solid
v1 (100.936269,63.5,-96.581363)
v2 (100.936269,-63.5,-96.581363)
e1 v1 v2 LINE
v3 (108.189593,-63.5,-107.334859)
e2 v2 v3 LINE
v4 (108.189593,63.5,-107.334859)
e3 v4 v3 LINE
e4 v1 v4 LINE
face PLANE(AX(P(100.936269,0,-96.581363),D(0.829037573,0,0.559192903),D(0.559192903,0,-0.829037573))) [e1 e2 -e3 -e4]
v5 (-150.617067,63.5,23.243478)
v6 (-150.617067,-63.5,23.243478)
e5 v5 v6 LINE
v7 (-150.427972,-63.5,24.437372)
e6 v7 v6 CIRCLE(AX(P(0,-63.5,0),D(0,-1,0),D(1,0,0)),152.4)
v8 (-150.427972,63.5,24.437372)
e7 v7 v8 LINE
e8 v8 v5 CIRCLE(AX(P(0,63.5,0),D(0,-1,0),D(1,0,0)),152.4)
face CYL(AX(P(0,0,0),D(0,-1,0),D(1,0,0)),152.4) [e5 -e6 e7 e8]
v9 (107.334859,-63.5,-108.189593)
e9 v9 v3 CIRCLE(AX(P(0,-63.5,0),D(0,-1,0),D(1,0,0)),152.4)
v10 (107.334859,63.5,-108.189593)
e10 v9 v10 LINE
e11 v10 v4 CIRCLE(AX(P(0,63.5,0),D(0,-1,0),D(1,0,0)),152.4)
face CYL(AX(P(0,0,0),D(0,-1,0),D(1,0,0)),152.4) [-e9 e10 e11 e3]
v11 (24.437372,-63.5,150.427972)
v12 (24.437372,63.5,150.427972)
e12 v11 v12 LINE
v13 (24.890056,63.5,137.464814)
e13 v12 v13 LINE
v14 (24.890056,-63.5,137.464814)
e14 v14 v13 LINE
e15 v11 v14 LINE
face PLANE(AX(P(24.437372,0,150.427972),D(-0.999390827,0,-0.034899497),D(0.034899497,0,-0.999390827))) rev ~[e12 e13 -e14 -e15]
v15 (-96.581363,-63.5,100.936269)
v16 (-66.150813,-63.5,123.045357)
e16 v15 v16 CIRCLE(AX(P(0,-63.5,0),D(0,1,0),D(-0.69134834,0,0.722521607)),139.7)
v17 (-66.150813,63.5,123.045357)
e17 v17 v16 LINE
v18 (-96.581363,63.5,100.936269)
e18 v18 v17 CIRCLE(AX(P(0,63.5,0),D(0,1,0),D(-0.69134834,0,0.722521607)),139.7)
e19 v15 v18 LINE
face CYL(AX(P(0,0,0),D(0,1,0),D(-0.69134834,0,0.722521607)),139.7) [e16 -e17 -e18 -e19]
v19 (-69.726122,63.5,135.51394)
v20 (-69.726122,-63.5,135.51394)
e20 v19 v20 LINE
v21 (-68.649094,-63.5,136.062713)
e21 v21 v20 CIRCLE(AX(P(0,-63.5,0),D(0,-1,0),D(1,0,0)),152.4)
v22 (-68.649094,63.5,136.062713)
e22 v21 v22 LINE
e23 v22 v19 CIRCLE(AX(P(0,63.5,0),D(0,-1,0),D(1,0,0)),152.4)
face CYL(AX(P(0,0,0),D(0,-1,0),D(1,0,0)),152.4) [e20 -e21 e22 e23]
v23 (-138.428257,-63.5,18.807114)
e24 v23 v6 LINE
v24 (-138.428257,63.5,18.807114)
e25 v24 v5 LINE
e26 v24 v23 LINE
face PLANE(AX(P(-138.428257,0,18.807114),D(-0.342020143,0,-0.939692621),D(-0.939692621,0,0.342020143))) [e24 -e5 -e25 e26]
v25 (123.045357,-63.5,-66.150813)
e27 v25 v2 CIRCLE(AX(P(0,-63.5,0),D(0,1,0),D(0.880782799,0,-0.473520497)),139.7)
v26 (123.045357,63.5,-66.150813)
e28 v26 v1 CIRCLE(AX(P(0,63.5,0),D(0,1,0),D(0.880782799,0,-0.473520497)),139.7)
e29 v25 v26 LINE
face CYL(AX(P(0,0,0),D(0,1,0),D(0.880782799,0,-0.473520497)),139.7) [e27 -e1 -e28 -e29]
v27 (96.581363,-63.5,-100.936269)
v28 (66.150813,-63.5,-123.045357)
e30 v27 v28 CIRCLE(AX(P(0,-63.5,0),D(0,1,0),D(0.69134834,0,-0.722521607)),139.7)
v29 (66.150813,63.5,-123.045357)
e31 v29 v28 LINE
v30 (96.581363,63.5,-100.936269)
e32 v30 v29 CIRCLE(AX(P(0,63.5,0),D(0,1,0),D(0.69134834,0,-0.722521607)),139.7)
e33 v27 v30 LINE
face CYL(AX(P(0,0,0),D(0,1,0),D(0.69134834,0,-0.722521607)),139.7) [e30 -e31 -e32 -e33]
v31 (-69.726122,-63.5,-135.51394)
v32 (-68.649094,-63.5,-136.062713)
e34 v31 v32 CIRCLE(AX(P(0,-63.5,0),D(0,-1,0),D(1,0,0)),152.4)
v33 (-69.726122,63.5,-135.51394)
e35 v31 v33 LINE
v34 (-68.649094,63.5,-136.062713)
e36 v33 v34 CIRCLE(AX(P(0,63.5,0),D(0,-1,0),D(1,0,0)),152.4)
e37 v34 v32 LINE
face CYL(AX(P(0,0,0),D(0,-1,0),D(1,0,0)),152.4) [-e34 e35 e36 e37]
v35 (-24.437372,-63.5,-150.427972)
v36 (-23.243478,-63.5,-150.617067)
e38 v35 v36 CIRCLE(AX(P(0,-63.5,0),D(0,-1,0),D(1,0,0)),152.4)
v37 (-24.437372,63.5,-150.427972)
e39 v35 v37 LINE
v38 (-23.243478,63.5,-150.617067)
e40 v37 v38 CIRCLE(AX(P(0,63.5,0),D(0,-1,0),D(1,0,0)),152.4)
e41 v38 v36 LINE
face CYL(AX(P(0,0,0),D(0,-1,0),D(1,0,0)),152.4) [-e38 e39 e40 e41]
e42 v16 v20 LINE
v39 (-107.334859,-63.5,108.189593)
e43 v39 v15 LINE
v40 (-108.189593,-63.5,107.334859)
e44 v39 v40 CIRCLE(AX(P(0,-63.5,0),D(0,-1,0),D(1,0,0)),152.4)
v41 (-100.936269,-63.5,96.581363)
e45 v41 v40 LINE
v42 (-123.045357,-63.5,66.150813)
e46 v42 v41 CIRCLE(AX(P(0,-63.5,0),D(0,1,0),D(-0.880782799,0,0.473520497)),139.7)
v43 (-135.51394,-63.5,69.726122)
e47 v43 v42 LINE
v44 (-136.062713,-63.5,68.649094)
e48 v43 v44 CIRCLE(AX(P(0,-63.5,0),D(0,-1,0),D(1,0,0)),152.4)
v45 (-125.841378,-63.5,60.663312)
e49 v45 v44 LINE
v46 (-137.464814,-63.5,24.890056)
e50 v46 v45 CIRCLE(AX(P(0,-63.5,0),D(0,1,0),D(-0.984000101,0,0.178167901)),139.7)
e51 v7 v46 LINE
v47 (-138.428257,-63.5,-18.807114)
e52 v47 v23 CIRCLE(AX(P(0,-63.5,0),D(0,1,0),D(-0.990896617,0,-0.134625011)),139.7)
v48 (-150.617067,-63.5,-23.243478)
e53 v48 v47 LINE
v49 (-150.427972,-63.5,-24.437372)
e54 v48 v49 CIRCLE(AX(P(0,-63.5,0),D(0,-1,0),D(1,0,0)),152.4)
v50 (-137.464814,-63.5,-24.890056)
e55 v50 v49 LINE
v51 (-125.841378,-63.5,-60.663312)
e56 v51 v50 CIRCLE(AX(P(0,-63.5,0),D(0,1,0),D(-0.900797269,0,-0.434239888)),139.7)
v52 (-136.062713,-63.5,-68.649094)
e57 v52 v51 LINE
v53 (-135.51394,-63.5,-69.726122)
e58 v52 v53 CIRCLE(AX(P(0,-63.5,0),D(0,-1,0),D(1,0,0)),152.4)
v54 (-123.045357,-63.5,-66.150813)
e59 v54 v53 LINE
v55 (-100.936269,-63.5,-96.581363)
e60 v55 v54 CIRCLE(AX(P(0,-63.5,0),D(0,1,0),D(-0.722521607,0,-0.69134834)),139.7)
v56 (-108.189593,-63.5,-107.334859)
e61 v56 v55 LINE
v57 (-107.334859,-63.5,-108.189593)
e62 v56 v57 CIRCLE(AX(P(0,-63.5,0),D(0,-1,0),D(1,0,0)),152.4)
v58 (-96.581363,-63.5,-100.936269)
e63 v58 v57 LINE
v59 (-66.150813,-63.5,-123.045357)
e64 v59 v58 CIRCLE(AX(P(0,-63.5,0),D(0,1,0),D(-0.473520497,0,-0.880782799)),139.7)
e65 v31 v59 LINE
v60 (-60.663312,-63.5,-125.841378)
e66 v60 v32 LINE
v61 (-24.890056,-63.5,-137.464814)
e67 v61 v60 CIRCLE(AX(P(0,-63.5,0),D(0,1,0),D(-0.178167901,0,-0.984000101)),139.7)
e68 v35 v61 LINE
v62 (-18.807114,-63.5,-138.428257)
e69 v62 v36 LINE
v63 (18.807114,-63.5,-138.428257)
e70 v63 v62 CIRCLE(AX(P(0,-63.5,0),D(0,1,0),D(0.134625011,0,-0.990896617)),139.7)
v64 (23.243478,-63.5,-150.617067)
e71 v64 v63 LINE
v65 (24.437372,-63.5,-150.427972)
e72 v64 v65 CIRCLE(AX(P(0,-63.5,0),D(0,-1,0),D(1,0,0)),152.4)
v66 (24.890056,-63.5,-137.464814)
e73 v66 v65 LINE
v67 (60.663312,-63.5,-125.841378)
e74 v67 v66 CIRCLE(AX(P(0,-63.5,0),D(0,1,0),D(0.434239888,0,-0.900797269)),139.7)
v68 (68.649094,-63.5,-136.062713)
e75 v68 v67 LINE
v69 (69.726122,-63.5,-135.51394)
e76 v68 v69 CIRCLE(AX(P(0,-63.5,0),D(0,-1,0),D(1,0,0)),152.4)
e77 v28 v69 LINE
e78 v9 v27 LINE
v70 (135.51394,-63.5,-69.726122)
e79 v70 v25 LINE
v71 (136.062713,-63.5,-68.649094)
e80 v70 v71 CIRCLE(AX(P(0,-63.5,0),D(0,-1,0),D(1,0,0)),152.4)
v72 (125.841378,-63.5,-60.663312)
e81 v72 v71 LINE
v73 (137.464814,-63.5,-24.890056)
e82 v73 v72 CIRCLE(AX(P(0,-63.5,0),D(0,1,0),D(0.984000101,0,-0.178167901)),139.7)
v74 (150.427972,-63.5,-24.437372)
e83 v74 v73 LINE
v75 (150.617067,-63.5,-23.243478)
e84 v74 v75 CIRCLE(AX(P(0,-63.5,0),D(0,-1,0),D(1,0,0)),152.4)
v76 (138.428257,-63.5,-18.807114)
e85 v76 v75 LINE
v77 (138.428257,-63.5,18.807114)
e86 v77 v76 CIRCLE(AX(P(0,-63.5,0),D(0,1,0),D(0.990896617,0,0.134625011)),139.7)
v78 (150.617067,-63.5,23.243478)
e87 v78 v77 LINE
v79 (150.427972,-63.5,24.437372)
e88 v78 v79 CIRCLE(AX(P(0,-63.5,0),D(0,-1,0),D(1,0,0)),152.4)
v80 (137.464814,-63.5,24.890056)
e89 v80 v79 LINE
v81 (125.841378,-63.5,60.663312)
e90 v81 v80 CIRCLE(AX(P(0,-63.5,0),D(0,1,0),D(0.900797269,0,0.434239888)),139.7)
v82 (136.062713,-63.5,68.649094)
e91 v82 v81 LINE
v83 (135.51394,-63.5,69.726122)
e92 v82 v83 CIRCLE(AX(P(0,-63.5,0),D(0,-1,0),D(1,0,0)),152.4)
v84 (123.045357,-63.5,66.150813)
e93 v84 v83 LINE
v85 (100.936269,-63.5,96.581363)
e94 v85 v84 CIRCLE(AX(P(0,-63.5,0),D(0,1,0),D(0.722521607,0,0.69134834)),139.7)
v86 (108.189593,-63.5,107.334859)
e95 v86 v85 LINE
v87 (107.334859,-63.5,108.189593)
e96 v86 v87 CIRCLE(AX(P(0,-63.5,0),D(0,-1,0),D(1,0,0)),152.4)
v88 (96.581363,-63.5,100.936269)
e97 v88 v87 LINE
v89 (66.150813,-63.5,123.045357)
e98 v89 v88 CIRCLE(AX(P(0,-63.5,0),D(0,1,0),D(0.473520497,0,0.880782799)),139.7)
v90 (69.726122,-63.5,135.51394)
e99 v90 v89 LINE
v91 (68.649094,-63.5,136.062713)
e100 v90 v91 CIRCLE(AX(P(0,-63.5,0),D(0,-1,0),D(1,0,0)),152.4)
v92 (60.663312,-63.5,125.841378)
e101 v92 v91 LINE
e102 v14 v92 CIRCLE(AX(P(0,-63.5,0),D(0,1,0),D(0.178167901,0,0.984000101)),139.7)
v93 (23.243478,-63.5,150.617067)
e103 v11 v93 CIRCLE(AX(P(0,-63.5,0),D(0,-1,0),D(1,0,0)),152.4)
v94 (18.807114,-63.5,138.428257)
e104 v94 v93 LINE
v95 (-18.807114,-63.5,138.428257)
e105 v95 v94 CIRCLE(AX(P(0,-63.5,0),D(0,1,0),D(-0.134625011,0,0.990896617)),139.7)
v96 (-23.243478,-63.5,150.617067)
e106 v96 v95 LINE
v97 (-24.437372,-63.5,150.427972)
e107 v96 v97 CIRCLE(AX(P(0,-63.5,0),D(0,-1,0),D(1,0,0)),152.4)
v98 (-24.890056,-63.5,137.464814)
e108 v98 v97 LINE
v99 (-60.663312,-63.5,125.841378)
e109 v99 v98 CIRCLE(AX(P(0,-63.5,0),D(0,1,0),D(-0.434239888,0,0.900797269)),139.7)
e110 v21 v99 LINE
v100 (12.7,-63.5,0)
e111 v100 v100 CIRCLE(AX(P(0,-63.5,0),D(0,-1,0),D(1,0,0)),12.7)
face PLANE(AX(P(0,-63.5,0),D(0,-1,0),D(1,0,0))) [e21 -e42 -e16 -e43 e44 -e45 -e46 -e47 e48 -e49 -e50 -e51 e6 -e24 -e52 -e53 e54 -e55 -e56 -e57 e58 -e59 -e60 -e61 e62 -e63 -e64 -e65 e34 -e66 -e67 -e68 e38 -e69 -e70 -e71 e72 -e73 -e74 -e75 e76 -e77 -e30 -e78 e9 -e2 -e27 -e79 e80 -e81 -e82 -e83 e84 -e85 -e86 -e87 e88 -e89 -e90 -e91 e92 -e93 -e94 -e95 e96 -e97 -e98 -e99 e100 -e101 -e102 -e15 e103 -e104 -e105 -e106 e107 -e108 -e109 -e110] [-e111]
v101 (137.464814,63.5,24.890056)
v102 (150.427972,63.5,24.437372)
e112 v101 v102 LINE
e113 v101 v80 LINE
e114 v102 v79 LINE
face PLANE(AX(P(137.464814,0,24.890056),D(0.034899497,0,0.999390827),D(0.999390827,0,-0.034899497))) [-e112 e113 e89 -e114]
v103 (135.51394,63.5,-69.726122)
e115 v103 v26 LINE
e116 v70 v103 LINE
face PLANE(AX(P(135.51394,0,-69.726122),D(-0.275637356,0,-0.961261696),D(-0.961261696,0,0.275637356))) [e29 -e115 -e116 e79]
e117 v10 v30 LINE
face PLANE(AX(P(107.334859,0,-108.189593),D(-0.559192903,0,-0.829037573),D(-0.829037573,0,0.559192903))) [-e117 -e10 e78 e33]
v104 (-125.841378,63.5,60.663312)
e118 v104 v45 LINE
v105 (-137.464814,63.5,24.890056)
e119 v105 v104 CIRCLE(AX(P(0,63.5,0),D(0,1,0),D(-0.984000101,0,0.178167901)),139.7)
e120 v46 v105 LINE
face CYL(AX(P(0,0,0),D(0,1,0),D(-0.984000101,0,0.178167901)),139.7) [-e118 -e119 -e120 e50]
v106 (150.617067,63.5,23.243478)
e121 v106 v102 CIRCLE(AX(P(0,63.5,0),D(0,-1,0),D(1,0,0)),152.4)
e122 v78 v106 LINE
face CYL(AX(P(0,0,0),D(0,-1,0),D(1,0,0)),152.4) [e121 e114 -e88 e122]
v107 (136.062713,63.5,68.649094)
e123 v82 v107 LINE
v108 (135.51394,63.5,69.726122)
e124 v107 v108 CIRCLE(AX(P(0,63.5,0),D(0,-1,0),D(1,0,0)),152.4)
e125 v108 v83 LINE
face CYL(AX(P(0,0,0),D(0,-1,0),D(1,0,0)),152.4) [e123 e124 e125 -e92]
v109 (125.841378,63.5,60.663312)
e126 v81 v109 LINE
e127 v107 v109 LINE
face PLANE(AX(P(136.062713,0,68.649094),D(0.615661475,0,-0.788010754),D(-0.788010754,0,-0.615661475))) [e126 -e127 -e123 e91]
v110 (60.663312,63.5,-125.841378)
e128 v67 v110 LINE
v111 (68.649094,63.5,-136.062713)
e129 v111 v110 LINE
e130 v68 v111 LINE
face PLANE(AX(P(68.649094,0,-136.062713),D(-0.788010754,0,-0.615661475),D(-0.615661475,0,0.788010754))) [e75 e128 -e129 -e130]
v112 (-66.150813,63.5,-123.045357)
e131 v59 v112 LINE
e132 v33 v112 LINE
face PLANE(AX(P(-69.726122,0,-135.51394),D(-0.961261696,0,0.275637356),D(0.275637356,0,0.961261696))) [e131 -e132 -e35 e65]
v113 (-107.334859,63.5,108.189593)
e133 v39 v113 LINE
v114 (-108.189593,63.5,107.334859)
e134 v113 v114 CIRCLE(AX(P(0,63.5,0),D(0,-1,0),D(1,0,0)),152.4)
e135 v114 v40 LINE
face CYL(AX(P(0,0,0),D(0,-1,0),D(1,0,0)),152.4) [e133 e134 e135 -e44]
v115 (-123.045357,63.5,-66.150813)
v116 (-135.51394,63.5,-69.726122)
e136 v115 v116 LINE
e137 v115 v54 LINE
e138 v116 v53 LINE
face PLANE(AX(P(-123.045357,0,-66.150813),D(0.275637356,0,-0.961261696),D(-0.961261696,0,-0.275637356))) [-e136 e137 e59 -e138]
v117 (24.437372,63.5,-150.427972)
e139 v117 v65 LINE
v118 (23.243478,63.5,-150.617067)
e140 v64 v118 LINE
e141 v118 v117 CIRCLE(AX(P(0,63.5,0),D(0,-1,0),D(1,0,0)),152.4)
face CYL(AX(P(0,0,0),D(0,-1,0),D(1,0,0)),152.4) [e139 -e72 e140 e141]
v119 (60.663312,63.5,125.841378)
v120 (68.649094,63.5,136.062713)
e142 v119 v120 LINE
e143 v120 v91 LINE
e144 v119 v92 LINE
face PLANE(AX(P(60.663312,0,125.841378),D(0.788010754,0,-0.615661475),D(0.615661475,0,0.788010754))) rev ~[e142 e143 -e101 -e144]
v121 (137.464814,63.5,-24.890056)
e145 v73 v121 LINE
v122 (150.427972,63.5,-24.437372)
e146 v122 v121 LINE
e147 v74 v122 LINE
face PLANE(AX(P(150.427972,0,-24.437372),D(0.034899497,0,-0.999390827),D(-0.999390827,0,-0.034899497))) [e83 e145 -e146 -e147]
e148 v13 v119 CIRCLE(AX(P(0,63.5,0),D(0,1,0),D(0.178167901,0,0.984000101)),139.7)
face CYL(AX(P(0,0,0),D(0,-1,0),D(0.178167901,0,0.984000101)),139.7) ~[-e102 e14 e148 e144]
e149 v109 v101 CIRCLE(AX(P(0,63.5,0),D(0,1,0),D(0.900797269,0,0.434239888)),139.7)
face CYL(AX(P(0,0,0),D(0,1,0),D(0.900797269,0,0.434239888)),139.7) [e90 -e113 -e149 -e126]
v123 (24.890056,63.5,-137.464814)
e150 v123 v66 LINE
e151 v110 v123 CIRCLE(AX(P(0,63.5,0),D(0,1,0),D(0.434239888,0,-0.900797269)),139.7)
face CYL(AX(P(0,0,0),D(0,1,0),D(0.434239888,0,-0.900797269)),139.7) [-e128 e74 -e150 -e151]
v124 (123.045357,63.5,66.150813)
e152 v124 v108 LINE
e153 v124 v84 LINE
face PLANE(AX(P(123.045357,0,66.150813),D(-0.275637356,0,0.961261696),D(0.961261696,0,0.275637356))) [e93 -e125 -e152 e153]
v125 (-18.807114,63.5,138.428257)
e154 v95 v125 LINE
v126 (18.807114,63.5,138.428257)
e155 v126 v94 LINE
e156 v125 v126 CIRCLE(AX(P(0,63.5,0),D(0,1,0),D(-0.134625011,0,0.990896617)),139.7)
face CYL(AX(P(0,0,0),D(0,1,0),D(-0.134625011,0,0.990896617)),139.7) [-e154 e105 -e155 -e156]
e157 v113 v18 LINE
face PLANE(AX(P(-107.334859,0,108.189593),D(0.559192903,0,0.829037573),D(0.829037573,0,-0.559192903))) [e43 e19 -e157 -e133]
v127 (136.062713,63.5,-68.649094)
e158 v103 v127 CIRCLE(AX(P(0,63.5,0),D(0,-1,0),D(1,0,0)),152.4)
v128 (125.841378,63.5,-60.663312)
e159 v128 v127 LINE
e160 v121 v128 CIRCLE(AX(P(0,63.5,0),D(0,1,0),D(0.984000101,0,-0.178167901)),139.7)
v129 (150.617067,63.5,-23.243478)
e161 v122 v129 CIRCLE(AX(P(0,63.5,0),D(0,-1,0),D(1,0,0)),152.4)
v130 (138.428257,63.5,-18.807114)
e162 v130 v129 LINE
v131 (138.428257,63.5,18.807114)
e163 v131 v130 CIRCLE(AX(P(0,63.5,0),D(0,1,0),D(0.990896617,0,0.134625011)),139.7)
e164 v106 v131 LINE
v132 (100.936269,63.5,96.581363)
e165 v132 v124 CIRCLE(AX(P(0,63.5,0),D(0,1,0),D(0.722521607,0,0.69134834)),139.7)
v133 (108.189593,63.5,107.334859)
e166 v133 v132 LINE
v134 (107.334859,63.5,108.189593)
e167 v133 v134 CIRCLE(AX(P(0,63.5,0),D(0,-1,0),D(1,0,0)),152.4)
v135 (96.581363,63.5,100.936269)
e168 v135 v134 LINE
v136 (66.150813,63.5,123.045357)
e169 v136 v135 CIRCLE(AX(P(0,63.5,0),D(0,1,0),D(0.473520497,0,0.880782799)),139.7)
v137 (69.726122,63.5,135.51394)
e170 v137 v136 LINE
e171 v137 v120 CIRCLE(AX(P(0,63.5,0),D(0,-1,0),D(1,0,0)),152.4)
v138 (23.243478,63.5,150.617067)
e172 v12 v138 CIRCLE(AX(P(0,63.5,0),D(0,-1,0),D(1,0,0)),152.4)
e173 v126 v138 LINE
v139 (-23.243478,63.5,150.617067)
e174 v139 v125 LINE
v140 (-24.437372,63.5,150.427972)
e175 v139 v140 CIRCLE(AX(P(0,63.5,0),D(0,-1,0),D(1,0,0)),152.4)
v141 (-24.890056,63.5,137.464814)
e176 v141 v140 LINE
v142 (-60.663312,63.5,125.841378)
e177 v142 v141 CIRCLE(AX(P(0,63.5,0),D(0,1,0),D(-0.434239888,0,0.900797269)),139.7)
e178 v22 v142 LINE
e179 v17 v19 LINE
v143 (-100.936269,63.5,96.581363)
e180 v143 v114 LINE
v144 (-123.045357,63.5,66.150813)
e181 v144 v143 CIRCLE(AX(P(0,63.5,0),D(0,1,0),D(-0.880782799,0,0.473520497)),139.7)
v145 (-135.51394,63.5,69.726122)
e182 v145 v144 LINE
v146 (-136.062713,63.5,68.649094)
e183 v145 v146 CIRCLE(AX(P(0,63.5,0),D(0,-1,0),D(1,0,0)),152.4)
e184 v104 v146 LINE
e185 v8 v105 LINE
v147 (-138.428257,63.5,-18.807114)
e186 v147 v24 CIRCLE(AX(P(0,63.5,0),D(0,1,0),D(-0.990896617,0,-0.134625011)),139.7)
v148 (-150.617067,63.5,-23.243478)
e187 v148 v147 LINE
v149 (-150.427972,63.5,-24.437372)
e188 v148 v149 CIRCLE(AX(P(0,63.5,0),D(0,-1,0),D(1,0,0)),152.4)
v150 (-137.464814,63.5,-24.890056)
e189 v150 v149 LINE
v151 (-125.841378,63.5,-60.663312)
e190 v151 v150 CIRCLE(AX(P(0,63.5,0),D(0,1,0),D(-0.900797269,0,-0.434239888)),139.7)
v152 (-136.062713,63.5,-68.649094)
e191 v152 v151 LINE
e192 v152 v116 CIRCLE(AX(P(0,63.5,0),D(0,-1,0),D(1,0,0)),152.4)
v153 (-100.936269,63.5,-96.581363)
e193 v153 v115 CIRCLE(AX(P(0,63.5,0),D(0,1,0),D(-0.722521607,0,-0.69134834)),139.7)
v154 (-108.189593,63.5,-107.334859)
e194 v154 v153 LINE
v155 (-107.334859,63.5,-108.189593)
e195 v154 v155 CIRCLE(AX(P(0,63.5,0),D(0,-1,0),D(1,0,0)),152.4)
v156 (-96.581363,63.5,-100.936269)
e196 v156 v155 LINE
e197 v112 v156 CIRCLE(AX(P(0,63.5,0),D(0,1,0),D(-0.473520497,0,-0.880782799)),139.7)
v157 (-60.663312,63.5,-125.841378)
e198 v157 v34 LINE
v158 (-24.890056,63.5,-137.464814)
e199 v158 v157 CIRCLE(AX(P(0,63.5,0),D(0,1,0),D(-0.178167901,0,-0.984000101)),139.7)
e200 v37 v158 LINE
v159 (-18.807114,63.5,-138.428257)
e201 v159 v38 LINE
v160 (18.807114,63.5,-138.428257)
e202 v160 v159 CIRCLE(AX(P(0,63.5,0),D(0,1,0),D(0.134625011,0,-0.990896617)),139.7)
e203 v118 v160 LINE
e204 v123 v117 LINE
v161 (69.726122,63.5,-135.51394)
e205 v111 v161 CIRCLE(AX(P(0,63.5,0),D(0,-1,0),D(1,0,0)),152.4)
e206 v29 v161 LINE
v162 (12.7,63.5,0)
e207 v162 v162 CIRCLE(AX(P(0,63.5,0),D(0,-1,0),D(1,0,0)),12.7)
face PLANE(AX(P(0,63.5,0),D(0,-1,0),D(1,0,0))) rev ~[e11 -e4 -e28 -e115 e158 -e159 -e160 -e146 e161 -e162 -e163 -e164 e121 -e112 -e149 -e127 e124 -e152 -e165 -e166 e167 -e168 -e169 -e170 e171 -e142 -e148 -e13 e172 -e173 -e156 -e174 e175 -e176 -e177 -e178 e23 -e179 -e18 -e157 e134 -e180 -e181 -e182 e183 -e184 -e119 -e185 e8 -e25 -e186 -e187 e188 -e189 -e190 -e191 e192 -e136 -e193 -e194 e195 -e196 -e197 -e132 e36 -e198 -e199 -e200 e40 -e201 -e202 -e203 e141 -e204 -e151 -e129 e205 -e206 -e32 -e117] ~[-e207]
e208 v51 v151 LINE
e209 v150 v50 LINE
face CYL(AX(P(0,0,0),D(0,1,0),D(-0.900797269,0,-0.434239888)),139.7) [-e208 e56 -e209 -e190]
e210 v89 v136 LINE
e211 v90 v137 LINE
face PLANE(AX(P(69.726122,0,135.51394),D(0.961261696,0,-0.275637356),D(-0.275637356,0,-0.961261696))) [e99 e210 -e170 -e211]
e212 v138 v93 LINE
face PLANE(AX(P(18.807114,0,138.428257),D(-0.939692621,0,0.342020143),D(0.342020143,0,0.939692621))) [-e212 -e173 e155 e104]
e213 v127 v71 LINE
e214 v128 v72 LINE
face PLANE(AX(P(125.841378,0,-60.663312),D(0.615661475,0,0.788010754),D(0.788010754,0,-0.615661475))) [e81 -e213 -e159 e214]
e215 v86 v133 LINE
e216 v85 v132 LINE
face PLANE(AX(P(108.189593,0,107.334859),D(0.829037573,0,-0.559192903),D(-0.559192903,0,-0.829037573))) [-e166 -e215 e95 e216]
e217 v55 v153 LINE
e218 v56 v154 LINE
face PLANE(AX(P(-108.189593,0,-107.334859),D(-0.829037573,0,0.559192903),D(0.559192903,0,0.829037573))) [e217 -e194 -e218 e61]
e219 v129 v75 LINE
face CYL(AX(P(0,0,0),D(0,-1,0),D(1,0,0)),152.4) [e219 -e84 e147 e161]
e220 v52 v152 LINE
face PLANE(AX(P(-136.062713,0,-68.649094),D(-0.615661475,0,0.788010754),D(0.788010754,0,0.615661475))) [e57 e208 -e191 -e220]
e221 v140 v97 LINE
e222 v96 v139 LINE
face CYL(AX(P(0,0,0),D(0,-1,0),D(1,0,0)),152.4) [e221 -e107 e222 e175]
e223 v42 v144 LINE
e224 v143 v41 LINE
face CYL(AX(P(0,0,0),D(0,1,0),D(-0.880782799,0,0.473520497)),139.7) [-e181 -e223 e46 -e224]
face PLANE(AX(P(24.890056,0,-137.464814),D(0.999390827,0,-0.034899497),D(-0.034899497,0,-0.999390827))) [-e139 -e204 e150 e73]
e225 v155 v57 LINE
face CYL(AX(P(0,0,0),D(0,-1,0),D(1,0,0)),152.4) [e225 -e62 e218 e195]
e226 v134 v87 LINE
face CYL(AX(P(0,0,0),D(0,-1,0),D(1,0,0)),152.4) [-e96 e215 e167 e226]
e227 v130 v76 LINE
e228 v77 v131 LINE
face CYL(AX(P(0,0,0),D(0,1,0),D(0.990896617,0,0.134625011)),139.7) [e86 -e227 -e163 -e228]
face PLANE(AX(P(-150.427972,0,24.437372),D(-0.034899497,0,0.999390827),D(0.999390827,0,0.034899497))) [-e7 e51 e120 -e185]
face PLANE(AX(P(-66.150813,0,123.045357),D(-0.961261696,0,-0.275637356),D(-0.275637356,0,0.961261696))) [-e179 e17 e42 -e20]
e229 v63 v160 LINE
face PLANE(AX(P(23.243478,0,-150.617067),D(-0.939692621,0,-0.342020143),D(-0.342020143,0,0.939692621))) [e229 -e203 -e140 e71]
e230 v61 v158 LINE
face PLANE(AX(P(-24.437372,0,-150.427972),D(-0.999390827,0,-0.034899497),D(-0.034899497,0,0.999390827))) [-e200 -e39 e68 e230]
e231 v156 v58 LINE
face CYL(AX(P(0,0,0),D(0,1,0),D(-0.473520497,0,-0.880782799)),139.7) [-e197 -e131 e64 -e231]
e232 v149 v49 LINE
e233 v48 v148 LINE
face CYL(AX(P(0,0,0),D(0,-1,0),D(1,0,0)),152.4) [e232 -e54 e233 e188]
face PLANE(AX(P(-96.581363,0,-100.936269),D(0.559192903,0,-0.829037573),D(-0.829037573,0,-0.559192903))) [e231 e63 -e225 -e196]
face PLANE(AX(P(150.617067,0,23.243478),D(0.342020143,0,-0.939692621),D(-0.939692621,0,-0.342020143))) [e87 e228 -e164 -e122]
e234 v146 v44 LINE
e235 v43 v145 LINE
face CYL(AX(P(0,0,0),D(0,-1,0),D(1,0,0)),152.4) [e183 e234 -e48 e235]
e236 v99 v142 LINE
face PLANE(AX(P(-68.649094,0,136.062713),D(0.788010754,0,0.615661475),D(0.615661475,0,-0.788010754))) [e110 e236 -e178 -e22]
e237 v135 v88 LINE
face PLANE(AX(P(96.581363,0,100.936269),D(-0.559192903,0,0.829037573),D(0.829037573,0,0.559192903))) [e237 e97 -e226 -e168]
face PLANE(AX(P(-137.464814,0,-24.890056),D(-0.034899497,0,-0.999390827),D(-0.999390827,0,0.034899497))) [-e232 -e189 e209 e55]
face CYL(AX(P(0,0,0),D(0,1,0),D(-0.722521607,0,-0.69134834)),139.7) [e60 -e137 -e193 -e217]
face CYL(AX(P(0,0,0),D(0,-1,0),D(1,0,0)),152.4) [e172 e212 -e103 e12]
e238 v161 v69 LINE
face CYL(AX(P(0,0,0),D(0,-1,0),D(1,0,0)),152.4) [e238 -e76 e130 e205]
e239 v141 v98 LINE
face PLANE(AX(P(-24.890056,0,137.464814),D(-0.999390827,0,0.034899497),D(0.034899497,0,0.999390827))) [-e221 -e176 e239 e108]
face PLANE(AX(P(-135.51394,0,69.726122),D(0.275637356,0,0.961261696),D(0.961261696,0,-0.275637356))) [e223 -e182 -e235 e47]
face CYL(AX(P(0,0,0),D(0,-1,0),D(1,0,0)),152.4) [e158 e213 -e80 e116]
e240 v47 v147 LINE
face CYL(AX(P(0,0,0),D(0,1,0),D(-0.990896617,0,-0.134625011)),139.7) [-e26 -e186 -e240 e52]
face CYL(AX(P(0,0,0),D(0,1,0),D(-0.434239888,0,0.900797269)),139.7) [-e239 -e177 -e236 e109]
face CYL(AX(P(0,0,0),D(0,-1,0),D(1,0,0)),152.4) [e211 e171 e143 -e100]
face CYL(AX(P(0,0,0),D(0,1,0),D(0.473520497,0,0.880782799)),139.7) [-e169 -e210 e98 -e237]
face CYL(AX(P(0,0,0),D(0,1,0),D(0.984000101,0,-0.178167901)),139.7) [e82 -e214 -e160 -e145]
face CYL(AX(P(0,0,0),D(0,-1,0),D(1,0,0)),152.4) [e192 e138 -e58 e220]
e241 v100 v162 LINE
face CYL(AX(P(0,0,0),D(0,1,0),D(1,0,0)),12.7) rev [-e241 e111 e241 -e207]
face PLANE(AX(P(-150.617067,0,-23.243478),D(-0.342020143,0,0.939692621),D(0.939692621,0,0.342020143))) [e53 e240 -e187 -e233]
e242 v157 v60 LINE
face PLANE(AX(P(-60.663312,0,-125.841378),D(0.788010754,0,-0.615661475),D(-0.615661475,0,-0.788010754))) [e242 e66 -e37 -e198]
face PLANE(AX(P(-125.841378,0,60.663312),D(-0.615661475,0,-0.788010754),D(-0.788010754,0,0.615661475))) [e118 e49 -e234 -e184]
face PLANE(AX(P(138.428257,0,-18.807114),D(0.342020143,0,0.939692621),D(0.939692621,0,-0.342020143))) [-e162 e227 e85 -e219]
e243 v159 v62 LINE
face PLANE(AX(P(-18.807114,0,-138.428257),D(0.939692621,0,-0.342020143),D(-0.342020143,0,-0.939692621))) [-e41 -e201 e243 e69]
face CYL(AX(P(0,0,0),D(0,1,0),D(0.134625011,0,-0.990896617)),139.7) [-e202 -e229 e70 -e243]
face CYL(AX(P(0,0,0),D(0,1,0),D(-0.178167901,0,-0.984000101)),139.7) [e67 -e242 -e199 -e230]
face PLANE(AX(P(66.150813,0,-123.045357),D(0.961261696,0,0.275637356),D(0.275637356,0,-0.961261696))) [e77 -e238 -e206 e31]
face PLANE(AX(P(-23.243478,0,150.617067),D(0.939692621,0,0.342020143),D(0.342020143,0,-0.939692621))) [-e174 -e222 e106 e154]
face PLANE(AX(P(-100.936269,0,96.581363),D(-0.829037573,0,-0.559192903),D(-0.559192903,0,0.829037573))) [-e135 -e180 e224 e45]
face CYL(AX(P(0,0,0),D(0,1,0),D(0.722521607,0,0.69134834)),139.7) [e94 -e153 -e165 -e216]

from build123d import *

# Parameters (mm, degrees)
F0_R     = 152.4
F0_R_2   = 76.2
F0_R_3   = 12.7
F1_DEPTH = 63.5
F3_DEPTH = 63.5


with BuildPart() as f1:
    # F0 (on Front) → F1 (new body, symmetric)
    with BuildSketch(Plane.XZ):
        Circle(F0_R)
        Circle(F0_R_2, mode=Mode.SUBTRACT)
        Circle(F0_R_2)
        Circle(F0_R_3, mode=Mode.SUBTRACT)
    extrude(amount=F1_DEPTH, both=True)

    # F2 (on Front) → F3 (cut, symmetric)
    with BuildSketch(Plane.XZ):
        with BuildLine():
            ThreePointArc((-18.8071139829, 138.4282574608), (0, 139.7), (18.8071139829, 138.4282574608))
            Line((18.8071139829, 138.4282574608), (23.2434776929, 150.6170665786))
            ThreePointArc((23.2434776929, 150.6170665786), (0, 152.4), (-23.2434776929, 150.6170665786))
            Line((-23.2434776929, 150.6170665786), (-18.8071139829, 138.4282574608))
        make_face()
        with BuildLine():
            ThreePointArc((-60.6633123632, 125.8413784616), (-43.1696741142, 132.8625953264), (-24.890055751, 137.4648141333))
            Line((-24.890055751, 137.4648141333), (-24.4373722945, 150.4279722503))
            ThreePointArc((-24.4373722945, 150.4279722503), (-47.0941899427, 144.9410130834), (-68.6490941369, 136.0627130194))
            Line((-68.6490941369, 136.0627130194), (-60.6633123632, 125.8413784616))
        make_face()
        with BuildLine():
            ThreePointArc((-96.5813630633, 100.9362685502), (-82.1135997453, 113.0196741142), (-66.1508134087, 123.0453570248))
            Line((-66.1508134087, 123.0453570248), (-69.7261220165, 135.5139399049))
            ThreePointArc((-69.7261220165, 135.5139399049), (-89.5784724494, 123.2941899427), (-107.3348589404, 108.1895931051))
            Line((-107.3348589404, 108.1895931051), (-96.5813630633, 100.9362685502))
        make_face()
        with BuildLine():
            ThreePointArc((-123.0453570248, 66.1508134087), (-113.0196741142, 82.1135997453), (-100.9362685502, 96.5813630633))
            Line((-100.9362685502, 96.5813630633), (-108.1895931051, 107.3348589404))
            ThreePointArc((-108.1895931051, 107.3348589404), (-123.2941899427, 89.5784724494), (-135.5139399049, 69.7261220165))
            Line((-135.5139399049, 69.7261220165), (-123.0453570248, 66.1508134087))
        make_face()
        with BuildLine():
            ThreePointArc((-137.4648141333, 24.890055751), (-132.8625953264, 43.1696741142), (-125.8413784616, 60.6633123632))
            Line((-125.8413784616, 60.6633123632), (-136.0627130194, 68.6490941369))
            ThreePointArc((-136.0627130194, 68.6490941369), (-144.9410130834, 47.0941899427), (-150.4279722503, 24.4373722945))
            Line((-150.4279722503, 24.4373722945), (-137.4648141333, 24.890055751))
        make_face()
        with BuildLine():
            ThreePointArc((-138.4282574608, -18.8071139829), (-139.7, 0), (-138.4282574608, 18.8071139829))
            Line((-138.4282574608, 18.8071139829), (-150.6170665786, 23.2434776929))
            ThreePointArc((-150.6170665786, 23.2434776929), (-152.4, 0), (-150.6170665786, -23.2434776929))
            Line((-150.6170665786, -23.2434776929), (-138.4282574608, -18.8071139829))
        make_face()
        with BuildLine():
            ThreePointArc((-125.8413784616, -60.6633123632), (-132.8625953264, -43.1696741142), (-137.4648141333, -24.890055751))
            Line((-137.4648141333, -24.890055751), (-150.4279722503, -24.4373722945))
            ThreePointArc((-150.4279722503, -24.4373722945), (-144.9410130834, -47.0941899427), (-136.0627130194, -68.6490941369))
            Line((-136.0627130194, -68.6490941369), (-125.8413784616, -60.6633123632))
        make_face()
        with BuildLine():
            ThreePointArc((-100.9362685502, -96.5813630633), (-113.0196741142, -82.1135997453), (-123.0453570248, -66.1508134087))
            Line((-123.0453570248, -66.1508134087), (-135.5139399049, -69.7261220165))
            ThreePointArc((-135.5139399049, -69.7261220165), (-123.2941899427, -89.5784724494), (-108.1895931051, -107.3348589404))
            Line((-108.1895931051, -107.3348589404), (-100.9362685502, -96.5813630633))
        make_face()
        with BuildLine():
            ThreePointArc((-66.1508134087, -123.0453570248), (-82.1135997453, -113.0196741142), (-96.5813630633, -100.9362685502))
            Line((-96.5813630633, -100.9362685502), (-107.3348589404, -108.1895931051))
            ThreePointArc((-107.3348589404, -108.1895931051), (-89.5784724494, -123.2941899427), (-69.7261220165, -135.5139399049))
            Line((-69.7261220165, -135.5139399049), (-66.1508134087, -123.0453570248))
        make_face()
        with BuildLine():
            ThreePointArc((-24.890055751, -137.4648141333), (-43.1696741142, -132.8625953264), (-60.6633123632, -125.8413784616))
            Line((-60.6633123632, -125.8413784616), (-68.6490941369, -136.0627130194))
            ThreePointArc((-68.6490941369, -136.0627130194), (-47.0941899427, -144.9410130834), (-24.4373722945, -150.4279722503))
            Line((-24.4373722945, -150.4279722503), (-24.890055751, -137.4648141333))
        make_face()
        with BuildLine():
            ThreePointArc((18.8071139829, -138.4282574608), (0, -139.7), (-18.8071139829, -138.4282574608))
            Line((-18.8071139829, -138.4282574608), (-23.2434776929, -150.6170665786))
            ThreePointArc((-23.2434776929, -150.6170665786), (0, -152.4), (23.2434776929, -150.6170665786))
            Line((23.2434776929, -150.6170665786), (18.8071139829, -138.4282574608))
        make_face()
        with BuildLine():
            ThreePointArc((60.6633123632, -125.8413784616), (43.1696741142, -132.8625953264), (24.890055751, -137.4648141333))
            Line((24.890055751, -137.4648141333), (24.4373722945, -150.4279722503))
            ThreePointArc((24.4373722945, -150.4279722503), (47.0941899427, -144.9410130834), (68.6490941369, -136.0627130194))
            Line((68.6490941369, -136.0627130194), (60.6633123632, -125.8413784616))
        make_face()
        with BuildLine():
            ThreePointArc((96.5813630633, -100.9362685502), (82.1135997453, -113.0196741142), (66.1508134087, -123.0453570248))
            Line((66.1508134087, -123.0453570248), (69.7261220165, -135.5139399049))
            ThreePointArc((69.7261220165, -135.5139399049), (89.5784724494, -123.2941899427), (107.3348589404, -108.1895931051))
            Line((107.3348589404, -108.1895931051), (96.5813630633, -100.9362685502))
        make_face()
        with BuildLine():
            ThreePointArc((123.0453570248, -66.1508134087), (113.0196741142, -82.1135997453), (100.9362685502, -96.5813630633))
            Line((100.9362685502, -96.5813630633), (108.1895931051, -107.3348589404))
            ThreePointArc((108.1895931051, -107.3348589404), (123.2941899427, -89.5784724494), (135.5139399049, -69.7261220165))
            Line((135.5139399049, -69.7261220165), (123.0453570248, -66.1508134087))
        make_face()
        with BuildLine():
            ThreePointArc((137.4648141333, -24.890055751), (132.8625953264, -43.1696741142), (125.8413784616, -60.6633123632))
            Line((125.8413784616, -60.6633123632), (136.0627130194, -68.6490941369))
            ThreePointArc((136.0627130194, -68.6490941369), (144.9410130834, -47.0941899427), (150.4279722503, -24.4373722945))
            Line((150.4279722503, -24.4373722945), (137.4648141333, -24.890055751))
        make_face()
        with BuildLine():
            ThreePointArc((138.4282574608, 18.8071139829), (139.7, 0), (138.4282574608, -18.8071139829))
            Line((138.4282574608, -18.8071139829), (150.6170665786, -23.2434776929))
            ThreePointArc((150.6170665786, -23.2434776929), (152.4, 0), (150.6170665786, 23.2434776929))
            Line((150.6170665786, 23.2434776929), (138.4282574608, 18.8071139829))
        make_face()
        with BuildLine():
            ThreePointArc((125.8413784616, 60.6633123632), (132.8625953264, 43.1696741142), (137.4648141333, 24.890055751))
            Line((137.4648141333, 24.890055751), (150.4279722503, 24.4373722945))
            ThreePointArc((150.4279722503, 24.4373722945), (144.9410130834, 47.0941899427), (136.0627130194, 68.6490941369))
            Line((136.0627130194, 68.6490941369), (125.8413784616, 60.6633123632))
        make_face()
        with BuildLine():
            ThreePointArc((100.9362685502, 96.5813630633), (113.0196741142, 82.1135997453), (123.0453570248, 66.1508134087))
            Line((123.0453570248, 66.1508134087), (135.5139399049, 69.7261220165))
            ThreePointArc((135.5139399049, 69.7261220165), (123.2941899427, 89.5784724494), (108.1895931051, 107.3348589404))
            Line((108.1895931051, 107.3348589404), (100.9362685502, 96.5813630633))
        make_face()
        with BuildLine():
            ThreePointArc((66.1508134087, 123.0453570248), (82.1135997453, 113.0196741142), (96.5813630633, 100.9362685502))
            Line((96.5813630633, 100.9362685502), (107.3348589404, 108.1895931051))
            ThreePointArc((107.3348589404, 108.1895931051), (89.5784724494, 123.2941899427), (69.7261220165, 135.5139399049))
            Line((69.7261220165, 135.5139399049), (66.1508134087, 123.0453570248))
        make_face()
        with BuildLine():
            ThreePointArc((24.890055751, 137.4648141333), (43.1696741142, 132.8625953264), (60.6633123632, 125.8413784616))
            Line((60.6633123632, 125.8413784616), (68.6490941369, 136.0627130194))
            ThreePointArc((68.6490941369, 136.0627130194), (47.0941899427, 144.9410130834), (24.4373722945, 150.4279722503))
            Line((24.4373722945, 150.4279722503), (24.890055751, 137.4648141333))
        make_face()
    extrude(amount=F3_DEPTH, both=True, mode=Mode.SUBTRACT)


solid = f1.part
